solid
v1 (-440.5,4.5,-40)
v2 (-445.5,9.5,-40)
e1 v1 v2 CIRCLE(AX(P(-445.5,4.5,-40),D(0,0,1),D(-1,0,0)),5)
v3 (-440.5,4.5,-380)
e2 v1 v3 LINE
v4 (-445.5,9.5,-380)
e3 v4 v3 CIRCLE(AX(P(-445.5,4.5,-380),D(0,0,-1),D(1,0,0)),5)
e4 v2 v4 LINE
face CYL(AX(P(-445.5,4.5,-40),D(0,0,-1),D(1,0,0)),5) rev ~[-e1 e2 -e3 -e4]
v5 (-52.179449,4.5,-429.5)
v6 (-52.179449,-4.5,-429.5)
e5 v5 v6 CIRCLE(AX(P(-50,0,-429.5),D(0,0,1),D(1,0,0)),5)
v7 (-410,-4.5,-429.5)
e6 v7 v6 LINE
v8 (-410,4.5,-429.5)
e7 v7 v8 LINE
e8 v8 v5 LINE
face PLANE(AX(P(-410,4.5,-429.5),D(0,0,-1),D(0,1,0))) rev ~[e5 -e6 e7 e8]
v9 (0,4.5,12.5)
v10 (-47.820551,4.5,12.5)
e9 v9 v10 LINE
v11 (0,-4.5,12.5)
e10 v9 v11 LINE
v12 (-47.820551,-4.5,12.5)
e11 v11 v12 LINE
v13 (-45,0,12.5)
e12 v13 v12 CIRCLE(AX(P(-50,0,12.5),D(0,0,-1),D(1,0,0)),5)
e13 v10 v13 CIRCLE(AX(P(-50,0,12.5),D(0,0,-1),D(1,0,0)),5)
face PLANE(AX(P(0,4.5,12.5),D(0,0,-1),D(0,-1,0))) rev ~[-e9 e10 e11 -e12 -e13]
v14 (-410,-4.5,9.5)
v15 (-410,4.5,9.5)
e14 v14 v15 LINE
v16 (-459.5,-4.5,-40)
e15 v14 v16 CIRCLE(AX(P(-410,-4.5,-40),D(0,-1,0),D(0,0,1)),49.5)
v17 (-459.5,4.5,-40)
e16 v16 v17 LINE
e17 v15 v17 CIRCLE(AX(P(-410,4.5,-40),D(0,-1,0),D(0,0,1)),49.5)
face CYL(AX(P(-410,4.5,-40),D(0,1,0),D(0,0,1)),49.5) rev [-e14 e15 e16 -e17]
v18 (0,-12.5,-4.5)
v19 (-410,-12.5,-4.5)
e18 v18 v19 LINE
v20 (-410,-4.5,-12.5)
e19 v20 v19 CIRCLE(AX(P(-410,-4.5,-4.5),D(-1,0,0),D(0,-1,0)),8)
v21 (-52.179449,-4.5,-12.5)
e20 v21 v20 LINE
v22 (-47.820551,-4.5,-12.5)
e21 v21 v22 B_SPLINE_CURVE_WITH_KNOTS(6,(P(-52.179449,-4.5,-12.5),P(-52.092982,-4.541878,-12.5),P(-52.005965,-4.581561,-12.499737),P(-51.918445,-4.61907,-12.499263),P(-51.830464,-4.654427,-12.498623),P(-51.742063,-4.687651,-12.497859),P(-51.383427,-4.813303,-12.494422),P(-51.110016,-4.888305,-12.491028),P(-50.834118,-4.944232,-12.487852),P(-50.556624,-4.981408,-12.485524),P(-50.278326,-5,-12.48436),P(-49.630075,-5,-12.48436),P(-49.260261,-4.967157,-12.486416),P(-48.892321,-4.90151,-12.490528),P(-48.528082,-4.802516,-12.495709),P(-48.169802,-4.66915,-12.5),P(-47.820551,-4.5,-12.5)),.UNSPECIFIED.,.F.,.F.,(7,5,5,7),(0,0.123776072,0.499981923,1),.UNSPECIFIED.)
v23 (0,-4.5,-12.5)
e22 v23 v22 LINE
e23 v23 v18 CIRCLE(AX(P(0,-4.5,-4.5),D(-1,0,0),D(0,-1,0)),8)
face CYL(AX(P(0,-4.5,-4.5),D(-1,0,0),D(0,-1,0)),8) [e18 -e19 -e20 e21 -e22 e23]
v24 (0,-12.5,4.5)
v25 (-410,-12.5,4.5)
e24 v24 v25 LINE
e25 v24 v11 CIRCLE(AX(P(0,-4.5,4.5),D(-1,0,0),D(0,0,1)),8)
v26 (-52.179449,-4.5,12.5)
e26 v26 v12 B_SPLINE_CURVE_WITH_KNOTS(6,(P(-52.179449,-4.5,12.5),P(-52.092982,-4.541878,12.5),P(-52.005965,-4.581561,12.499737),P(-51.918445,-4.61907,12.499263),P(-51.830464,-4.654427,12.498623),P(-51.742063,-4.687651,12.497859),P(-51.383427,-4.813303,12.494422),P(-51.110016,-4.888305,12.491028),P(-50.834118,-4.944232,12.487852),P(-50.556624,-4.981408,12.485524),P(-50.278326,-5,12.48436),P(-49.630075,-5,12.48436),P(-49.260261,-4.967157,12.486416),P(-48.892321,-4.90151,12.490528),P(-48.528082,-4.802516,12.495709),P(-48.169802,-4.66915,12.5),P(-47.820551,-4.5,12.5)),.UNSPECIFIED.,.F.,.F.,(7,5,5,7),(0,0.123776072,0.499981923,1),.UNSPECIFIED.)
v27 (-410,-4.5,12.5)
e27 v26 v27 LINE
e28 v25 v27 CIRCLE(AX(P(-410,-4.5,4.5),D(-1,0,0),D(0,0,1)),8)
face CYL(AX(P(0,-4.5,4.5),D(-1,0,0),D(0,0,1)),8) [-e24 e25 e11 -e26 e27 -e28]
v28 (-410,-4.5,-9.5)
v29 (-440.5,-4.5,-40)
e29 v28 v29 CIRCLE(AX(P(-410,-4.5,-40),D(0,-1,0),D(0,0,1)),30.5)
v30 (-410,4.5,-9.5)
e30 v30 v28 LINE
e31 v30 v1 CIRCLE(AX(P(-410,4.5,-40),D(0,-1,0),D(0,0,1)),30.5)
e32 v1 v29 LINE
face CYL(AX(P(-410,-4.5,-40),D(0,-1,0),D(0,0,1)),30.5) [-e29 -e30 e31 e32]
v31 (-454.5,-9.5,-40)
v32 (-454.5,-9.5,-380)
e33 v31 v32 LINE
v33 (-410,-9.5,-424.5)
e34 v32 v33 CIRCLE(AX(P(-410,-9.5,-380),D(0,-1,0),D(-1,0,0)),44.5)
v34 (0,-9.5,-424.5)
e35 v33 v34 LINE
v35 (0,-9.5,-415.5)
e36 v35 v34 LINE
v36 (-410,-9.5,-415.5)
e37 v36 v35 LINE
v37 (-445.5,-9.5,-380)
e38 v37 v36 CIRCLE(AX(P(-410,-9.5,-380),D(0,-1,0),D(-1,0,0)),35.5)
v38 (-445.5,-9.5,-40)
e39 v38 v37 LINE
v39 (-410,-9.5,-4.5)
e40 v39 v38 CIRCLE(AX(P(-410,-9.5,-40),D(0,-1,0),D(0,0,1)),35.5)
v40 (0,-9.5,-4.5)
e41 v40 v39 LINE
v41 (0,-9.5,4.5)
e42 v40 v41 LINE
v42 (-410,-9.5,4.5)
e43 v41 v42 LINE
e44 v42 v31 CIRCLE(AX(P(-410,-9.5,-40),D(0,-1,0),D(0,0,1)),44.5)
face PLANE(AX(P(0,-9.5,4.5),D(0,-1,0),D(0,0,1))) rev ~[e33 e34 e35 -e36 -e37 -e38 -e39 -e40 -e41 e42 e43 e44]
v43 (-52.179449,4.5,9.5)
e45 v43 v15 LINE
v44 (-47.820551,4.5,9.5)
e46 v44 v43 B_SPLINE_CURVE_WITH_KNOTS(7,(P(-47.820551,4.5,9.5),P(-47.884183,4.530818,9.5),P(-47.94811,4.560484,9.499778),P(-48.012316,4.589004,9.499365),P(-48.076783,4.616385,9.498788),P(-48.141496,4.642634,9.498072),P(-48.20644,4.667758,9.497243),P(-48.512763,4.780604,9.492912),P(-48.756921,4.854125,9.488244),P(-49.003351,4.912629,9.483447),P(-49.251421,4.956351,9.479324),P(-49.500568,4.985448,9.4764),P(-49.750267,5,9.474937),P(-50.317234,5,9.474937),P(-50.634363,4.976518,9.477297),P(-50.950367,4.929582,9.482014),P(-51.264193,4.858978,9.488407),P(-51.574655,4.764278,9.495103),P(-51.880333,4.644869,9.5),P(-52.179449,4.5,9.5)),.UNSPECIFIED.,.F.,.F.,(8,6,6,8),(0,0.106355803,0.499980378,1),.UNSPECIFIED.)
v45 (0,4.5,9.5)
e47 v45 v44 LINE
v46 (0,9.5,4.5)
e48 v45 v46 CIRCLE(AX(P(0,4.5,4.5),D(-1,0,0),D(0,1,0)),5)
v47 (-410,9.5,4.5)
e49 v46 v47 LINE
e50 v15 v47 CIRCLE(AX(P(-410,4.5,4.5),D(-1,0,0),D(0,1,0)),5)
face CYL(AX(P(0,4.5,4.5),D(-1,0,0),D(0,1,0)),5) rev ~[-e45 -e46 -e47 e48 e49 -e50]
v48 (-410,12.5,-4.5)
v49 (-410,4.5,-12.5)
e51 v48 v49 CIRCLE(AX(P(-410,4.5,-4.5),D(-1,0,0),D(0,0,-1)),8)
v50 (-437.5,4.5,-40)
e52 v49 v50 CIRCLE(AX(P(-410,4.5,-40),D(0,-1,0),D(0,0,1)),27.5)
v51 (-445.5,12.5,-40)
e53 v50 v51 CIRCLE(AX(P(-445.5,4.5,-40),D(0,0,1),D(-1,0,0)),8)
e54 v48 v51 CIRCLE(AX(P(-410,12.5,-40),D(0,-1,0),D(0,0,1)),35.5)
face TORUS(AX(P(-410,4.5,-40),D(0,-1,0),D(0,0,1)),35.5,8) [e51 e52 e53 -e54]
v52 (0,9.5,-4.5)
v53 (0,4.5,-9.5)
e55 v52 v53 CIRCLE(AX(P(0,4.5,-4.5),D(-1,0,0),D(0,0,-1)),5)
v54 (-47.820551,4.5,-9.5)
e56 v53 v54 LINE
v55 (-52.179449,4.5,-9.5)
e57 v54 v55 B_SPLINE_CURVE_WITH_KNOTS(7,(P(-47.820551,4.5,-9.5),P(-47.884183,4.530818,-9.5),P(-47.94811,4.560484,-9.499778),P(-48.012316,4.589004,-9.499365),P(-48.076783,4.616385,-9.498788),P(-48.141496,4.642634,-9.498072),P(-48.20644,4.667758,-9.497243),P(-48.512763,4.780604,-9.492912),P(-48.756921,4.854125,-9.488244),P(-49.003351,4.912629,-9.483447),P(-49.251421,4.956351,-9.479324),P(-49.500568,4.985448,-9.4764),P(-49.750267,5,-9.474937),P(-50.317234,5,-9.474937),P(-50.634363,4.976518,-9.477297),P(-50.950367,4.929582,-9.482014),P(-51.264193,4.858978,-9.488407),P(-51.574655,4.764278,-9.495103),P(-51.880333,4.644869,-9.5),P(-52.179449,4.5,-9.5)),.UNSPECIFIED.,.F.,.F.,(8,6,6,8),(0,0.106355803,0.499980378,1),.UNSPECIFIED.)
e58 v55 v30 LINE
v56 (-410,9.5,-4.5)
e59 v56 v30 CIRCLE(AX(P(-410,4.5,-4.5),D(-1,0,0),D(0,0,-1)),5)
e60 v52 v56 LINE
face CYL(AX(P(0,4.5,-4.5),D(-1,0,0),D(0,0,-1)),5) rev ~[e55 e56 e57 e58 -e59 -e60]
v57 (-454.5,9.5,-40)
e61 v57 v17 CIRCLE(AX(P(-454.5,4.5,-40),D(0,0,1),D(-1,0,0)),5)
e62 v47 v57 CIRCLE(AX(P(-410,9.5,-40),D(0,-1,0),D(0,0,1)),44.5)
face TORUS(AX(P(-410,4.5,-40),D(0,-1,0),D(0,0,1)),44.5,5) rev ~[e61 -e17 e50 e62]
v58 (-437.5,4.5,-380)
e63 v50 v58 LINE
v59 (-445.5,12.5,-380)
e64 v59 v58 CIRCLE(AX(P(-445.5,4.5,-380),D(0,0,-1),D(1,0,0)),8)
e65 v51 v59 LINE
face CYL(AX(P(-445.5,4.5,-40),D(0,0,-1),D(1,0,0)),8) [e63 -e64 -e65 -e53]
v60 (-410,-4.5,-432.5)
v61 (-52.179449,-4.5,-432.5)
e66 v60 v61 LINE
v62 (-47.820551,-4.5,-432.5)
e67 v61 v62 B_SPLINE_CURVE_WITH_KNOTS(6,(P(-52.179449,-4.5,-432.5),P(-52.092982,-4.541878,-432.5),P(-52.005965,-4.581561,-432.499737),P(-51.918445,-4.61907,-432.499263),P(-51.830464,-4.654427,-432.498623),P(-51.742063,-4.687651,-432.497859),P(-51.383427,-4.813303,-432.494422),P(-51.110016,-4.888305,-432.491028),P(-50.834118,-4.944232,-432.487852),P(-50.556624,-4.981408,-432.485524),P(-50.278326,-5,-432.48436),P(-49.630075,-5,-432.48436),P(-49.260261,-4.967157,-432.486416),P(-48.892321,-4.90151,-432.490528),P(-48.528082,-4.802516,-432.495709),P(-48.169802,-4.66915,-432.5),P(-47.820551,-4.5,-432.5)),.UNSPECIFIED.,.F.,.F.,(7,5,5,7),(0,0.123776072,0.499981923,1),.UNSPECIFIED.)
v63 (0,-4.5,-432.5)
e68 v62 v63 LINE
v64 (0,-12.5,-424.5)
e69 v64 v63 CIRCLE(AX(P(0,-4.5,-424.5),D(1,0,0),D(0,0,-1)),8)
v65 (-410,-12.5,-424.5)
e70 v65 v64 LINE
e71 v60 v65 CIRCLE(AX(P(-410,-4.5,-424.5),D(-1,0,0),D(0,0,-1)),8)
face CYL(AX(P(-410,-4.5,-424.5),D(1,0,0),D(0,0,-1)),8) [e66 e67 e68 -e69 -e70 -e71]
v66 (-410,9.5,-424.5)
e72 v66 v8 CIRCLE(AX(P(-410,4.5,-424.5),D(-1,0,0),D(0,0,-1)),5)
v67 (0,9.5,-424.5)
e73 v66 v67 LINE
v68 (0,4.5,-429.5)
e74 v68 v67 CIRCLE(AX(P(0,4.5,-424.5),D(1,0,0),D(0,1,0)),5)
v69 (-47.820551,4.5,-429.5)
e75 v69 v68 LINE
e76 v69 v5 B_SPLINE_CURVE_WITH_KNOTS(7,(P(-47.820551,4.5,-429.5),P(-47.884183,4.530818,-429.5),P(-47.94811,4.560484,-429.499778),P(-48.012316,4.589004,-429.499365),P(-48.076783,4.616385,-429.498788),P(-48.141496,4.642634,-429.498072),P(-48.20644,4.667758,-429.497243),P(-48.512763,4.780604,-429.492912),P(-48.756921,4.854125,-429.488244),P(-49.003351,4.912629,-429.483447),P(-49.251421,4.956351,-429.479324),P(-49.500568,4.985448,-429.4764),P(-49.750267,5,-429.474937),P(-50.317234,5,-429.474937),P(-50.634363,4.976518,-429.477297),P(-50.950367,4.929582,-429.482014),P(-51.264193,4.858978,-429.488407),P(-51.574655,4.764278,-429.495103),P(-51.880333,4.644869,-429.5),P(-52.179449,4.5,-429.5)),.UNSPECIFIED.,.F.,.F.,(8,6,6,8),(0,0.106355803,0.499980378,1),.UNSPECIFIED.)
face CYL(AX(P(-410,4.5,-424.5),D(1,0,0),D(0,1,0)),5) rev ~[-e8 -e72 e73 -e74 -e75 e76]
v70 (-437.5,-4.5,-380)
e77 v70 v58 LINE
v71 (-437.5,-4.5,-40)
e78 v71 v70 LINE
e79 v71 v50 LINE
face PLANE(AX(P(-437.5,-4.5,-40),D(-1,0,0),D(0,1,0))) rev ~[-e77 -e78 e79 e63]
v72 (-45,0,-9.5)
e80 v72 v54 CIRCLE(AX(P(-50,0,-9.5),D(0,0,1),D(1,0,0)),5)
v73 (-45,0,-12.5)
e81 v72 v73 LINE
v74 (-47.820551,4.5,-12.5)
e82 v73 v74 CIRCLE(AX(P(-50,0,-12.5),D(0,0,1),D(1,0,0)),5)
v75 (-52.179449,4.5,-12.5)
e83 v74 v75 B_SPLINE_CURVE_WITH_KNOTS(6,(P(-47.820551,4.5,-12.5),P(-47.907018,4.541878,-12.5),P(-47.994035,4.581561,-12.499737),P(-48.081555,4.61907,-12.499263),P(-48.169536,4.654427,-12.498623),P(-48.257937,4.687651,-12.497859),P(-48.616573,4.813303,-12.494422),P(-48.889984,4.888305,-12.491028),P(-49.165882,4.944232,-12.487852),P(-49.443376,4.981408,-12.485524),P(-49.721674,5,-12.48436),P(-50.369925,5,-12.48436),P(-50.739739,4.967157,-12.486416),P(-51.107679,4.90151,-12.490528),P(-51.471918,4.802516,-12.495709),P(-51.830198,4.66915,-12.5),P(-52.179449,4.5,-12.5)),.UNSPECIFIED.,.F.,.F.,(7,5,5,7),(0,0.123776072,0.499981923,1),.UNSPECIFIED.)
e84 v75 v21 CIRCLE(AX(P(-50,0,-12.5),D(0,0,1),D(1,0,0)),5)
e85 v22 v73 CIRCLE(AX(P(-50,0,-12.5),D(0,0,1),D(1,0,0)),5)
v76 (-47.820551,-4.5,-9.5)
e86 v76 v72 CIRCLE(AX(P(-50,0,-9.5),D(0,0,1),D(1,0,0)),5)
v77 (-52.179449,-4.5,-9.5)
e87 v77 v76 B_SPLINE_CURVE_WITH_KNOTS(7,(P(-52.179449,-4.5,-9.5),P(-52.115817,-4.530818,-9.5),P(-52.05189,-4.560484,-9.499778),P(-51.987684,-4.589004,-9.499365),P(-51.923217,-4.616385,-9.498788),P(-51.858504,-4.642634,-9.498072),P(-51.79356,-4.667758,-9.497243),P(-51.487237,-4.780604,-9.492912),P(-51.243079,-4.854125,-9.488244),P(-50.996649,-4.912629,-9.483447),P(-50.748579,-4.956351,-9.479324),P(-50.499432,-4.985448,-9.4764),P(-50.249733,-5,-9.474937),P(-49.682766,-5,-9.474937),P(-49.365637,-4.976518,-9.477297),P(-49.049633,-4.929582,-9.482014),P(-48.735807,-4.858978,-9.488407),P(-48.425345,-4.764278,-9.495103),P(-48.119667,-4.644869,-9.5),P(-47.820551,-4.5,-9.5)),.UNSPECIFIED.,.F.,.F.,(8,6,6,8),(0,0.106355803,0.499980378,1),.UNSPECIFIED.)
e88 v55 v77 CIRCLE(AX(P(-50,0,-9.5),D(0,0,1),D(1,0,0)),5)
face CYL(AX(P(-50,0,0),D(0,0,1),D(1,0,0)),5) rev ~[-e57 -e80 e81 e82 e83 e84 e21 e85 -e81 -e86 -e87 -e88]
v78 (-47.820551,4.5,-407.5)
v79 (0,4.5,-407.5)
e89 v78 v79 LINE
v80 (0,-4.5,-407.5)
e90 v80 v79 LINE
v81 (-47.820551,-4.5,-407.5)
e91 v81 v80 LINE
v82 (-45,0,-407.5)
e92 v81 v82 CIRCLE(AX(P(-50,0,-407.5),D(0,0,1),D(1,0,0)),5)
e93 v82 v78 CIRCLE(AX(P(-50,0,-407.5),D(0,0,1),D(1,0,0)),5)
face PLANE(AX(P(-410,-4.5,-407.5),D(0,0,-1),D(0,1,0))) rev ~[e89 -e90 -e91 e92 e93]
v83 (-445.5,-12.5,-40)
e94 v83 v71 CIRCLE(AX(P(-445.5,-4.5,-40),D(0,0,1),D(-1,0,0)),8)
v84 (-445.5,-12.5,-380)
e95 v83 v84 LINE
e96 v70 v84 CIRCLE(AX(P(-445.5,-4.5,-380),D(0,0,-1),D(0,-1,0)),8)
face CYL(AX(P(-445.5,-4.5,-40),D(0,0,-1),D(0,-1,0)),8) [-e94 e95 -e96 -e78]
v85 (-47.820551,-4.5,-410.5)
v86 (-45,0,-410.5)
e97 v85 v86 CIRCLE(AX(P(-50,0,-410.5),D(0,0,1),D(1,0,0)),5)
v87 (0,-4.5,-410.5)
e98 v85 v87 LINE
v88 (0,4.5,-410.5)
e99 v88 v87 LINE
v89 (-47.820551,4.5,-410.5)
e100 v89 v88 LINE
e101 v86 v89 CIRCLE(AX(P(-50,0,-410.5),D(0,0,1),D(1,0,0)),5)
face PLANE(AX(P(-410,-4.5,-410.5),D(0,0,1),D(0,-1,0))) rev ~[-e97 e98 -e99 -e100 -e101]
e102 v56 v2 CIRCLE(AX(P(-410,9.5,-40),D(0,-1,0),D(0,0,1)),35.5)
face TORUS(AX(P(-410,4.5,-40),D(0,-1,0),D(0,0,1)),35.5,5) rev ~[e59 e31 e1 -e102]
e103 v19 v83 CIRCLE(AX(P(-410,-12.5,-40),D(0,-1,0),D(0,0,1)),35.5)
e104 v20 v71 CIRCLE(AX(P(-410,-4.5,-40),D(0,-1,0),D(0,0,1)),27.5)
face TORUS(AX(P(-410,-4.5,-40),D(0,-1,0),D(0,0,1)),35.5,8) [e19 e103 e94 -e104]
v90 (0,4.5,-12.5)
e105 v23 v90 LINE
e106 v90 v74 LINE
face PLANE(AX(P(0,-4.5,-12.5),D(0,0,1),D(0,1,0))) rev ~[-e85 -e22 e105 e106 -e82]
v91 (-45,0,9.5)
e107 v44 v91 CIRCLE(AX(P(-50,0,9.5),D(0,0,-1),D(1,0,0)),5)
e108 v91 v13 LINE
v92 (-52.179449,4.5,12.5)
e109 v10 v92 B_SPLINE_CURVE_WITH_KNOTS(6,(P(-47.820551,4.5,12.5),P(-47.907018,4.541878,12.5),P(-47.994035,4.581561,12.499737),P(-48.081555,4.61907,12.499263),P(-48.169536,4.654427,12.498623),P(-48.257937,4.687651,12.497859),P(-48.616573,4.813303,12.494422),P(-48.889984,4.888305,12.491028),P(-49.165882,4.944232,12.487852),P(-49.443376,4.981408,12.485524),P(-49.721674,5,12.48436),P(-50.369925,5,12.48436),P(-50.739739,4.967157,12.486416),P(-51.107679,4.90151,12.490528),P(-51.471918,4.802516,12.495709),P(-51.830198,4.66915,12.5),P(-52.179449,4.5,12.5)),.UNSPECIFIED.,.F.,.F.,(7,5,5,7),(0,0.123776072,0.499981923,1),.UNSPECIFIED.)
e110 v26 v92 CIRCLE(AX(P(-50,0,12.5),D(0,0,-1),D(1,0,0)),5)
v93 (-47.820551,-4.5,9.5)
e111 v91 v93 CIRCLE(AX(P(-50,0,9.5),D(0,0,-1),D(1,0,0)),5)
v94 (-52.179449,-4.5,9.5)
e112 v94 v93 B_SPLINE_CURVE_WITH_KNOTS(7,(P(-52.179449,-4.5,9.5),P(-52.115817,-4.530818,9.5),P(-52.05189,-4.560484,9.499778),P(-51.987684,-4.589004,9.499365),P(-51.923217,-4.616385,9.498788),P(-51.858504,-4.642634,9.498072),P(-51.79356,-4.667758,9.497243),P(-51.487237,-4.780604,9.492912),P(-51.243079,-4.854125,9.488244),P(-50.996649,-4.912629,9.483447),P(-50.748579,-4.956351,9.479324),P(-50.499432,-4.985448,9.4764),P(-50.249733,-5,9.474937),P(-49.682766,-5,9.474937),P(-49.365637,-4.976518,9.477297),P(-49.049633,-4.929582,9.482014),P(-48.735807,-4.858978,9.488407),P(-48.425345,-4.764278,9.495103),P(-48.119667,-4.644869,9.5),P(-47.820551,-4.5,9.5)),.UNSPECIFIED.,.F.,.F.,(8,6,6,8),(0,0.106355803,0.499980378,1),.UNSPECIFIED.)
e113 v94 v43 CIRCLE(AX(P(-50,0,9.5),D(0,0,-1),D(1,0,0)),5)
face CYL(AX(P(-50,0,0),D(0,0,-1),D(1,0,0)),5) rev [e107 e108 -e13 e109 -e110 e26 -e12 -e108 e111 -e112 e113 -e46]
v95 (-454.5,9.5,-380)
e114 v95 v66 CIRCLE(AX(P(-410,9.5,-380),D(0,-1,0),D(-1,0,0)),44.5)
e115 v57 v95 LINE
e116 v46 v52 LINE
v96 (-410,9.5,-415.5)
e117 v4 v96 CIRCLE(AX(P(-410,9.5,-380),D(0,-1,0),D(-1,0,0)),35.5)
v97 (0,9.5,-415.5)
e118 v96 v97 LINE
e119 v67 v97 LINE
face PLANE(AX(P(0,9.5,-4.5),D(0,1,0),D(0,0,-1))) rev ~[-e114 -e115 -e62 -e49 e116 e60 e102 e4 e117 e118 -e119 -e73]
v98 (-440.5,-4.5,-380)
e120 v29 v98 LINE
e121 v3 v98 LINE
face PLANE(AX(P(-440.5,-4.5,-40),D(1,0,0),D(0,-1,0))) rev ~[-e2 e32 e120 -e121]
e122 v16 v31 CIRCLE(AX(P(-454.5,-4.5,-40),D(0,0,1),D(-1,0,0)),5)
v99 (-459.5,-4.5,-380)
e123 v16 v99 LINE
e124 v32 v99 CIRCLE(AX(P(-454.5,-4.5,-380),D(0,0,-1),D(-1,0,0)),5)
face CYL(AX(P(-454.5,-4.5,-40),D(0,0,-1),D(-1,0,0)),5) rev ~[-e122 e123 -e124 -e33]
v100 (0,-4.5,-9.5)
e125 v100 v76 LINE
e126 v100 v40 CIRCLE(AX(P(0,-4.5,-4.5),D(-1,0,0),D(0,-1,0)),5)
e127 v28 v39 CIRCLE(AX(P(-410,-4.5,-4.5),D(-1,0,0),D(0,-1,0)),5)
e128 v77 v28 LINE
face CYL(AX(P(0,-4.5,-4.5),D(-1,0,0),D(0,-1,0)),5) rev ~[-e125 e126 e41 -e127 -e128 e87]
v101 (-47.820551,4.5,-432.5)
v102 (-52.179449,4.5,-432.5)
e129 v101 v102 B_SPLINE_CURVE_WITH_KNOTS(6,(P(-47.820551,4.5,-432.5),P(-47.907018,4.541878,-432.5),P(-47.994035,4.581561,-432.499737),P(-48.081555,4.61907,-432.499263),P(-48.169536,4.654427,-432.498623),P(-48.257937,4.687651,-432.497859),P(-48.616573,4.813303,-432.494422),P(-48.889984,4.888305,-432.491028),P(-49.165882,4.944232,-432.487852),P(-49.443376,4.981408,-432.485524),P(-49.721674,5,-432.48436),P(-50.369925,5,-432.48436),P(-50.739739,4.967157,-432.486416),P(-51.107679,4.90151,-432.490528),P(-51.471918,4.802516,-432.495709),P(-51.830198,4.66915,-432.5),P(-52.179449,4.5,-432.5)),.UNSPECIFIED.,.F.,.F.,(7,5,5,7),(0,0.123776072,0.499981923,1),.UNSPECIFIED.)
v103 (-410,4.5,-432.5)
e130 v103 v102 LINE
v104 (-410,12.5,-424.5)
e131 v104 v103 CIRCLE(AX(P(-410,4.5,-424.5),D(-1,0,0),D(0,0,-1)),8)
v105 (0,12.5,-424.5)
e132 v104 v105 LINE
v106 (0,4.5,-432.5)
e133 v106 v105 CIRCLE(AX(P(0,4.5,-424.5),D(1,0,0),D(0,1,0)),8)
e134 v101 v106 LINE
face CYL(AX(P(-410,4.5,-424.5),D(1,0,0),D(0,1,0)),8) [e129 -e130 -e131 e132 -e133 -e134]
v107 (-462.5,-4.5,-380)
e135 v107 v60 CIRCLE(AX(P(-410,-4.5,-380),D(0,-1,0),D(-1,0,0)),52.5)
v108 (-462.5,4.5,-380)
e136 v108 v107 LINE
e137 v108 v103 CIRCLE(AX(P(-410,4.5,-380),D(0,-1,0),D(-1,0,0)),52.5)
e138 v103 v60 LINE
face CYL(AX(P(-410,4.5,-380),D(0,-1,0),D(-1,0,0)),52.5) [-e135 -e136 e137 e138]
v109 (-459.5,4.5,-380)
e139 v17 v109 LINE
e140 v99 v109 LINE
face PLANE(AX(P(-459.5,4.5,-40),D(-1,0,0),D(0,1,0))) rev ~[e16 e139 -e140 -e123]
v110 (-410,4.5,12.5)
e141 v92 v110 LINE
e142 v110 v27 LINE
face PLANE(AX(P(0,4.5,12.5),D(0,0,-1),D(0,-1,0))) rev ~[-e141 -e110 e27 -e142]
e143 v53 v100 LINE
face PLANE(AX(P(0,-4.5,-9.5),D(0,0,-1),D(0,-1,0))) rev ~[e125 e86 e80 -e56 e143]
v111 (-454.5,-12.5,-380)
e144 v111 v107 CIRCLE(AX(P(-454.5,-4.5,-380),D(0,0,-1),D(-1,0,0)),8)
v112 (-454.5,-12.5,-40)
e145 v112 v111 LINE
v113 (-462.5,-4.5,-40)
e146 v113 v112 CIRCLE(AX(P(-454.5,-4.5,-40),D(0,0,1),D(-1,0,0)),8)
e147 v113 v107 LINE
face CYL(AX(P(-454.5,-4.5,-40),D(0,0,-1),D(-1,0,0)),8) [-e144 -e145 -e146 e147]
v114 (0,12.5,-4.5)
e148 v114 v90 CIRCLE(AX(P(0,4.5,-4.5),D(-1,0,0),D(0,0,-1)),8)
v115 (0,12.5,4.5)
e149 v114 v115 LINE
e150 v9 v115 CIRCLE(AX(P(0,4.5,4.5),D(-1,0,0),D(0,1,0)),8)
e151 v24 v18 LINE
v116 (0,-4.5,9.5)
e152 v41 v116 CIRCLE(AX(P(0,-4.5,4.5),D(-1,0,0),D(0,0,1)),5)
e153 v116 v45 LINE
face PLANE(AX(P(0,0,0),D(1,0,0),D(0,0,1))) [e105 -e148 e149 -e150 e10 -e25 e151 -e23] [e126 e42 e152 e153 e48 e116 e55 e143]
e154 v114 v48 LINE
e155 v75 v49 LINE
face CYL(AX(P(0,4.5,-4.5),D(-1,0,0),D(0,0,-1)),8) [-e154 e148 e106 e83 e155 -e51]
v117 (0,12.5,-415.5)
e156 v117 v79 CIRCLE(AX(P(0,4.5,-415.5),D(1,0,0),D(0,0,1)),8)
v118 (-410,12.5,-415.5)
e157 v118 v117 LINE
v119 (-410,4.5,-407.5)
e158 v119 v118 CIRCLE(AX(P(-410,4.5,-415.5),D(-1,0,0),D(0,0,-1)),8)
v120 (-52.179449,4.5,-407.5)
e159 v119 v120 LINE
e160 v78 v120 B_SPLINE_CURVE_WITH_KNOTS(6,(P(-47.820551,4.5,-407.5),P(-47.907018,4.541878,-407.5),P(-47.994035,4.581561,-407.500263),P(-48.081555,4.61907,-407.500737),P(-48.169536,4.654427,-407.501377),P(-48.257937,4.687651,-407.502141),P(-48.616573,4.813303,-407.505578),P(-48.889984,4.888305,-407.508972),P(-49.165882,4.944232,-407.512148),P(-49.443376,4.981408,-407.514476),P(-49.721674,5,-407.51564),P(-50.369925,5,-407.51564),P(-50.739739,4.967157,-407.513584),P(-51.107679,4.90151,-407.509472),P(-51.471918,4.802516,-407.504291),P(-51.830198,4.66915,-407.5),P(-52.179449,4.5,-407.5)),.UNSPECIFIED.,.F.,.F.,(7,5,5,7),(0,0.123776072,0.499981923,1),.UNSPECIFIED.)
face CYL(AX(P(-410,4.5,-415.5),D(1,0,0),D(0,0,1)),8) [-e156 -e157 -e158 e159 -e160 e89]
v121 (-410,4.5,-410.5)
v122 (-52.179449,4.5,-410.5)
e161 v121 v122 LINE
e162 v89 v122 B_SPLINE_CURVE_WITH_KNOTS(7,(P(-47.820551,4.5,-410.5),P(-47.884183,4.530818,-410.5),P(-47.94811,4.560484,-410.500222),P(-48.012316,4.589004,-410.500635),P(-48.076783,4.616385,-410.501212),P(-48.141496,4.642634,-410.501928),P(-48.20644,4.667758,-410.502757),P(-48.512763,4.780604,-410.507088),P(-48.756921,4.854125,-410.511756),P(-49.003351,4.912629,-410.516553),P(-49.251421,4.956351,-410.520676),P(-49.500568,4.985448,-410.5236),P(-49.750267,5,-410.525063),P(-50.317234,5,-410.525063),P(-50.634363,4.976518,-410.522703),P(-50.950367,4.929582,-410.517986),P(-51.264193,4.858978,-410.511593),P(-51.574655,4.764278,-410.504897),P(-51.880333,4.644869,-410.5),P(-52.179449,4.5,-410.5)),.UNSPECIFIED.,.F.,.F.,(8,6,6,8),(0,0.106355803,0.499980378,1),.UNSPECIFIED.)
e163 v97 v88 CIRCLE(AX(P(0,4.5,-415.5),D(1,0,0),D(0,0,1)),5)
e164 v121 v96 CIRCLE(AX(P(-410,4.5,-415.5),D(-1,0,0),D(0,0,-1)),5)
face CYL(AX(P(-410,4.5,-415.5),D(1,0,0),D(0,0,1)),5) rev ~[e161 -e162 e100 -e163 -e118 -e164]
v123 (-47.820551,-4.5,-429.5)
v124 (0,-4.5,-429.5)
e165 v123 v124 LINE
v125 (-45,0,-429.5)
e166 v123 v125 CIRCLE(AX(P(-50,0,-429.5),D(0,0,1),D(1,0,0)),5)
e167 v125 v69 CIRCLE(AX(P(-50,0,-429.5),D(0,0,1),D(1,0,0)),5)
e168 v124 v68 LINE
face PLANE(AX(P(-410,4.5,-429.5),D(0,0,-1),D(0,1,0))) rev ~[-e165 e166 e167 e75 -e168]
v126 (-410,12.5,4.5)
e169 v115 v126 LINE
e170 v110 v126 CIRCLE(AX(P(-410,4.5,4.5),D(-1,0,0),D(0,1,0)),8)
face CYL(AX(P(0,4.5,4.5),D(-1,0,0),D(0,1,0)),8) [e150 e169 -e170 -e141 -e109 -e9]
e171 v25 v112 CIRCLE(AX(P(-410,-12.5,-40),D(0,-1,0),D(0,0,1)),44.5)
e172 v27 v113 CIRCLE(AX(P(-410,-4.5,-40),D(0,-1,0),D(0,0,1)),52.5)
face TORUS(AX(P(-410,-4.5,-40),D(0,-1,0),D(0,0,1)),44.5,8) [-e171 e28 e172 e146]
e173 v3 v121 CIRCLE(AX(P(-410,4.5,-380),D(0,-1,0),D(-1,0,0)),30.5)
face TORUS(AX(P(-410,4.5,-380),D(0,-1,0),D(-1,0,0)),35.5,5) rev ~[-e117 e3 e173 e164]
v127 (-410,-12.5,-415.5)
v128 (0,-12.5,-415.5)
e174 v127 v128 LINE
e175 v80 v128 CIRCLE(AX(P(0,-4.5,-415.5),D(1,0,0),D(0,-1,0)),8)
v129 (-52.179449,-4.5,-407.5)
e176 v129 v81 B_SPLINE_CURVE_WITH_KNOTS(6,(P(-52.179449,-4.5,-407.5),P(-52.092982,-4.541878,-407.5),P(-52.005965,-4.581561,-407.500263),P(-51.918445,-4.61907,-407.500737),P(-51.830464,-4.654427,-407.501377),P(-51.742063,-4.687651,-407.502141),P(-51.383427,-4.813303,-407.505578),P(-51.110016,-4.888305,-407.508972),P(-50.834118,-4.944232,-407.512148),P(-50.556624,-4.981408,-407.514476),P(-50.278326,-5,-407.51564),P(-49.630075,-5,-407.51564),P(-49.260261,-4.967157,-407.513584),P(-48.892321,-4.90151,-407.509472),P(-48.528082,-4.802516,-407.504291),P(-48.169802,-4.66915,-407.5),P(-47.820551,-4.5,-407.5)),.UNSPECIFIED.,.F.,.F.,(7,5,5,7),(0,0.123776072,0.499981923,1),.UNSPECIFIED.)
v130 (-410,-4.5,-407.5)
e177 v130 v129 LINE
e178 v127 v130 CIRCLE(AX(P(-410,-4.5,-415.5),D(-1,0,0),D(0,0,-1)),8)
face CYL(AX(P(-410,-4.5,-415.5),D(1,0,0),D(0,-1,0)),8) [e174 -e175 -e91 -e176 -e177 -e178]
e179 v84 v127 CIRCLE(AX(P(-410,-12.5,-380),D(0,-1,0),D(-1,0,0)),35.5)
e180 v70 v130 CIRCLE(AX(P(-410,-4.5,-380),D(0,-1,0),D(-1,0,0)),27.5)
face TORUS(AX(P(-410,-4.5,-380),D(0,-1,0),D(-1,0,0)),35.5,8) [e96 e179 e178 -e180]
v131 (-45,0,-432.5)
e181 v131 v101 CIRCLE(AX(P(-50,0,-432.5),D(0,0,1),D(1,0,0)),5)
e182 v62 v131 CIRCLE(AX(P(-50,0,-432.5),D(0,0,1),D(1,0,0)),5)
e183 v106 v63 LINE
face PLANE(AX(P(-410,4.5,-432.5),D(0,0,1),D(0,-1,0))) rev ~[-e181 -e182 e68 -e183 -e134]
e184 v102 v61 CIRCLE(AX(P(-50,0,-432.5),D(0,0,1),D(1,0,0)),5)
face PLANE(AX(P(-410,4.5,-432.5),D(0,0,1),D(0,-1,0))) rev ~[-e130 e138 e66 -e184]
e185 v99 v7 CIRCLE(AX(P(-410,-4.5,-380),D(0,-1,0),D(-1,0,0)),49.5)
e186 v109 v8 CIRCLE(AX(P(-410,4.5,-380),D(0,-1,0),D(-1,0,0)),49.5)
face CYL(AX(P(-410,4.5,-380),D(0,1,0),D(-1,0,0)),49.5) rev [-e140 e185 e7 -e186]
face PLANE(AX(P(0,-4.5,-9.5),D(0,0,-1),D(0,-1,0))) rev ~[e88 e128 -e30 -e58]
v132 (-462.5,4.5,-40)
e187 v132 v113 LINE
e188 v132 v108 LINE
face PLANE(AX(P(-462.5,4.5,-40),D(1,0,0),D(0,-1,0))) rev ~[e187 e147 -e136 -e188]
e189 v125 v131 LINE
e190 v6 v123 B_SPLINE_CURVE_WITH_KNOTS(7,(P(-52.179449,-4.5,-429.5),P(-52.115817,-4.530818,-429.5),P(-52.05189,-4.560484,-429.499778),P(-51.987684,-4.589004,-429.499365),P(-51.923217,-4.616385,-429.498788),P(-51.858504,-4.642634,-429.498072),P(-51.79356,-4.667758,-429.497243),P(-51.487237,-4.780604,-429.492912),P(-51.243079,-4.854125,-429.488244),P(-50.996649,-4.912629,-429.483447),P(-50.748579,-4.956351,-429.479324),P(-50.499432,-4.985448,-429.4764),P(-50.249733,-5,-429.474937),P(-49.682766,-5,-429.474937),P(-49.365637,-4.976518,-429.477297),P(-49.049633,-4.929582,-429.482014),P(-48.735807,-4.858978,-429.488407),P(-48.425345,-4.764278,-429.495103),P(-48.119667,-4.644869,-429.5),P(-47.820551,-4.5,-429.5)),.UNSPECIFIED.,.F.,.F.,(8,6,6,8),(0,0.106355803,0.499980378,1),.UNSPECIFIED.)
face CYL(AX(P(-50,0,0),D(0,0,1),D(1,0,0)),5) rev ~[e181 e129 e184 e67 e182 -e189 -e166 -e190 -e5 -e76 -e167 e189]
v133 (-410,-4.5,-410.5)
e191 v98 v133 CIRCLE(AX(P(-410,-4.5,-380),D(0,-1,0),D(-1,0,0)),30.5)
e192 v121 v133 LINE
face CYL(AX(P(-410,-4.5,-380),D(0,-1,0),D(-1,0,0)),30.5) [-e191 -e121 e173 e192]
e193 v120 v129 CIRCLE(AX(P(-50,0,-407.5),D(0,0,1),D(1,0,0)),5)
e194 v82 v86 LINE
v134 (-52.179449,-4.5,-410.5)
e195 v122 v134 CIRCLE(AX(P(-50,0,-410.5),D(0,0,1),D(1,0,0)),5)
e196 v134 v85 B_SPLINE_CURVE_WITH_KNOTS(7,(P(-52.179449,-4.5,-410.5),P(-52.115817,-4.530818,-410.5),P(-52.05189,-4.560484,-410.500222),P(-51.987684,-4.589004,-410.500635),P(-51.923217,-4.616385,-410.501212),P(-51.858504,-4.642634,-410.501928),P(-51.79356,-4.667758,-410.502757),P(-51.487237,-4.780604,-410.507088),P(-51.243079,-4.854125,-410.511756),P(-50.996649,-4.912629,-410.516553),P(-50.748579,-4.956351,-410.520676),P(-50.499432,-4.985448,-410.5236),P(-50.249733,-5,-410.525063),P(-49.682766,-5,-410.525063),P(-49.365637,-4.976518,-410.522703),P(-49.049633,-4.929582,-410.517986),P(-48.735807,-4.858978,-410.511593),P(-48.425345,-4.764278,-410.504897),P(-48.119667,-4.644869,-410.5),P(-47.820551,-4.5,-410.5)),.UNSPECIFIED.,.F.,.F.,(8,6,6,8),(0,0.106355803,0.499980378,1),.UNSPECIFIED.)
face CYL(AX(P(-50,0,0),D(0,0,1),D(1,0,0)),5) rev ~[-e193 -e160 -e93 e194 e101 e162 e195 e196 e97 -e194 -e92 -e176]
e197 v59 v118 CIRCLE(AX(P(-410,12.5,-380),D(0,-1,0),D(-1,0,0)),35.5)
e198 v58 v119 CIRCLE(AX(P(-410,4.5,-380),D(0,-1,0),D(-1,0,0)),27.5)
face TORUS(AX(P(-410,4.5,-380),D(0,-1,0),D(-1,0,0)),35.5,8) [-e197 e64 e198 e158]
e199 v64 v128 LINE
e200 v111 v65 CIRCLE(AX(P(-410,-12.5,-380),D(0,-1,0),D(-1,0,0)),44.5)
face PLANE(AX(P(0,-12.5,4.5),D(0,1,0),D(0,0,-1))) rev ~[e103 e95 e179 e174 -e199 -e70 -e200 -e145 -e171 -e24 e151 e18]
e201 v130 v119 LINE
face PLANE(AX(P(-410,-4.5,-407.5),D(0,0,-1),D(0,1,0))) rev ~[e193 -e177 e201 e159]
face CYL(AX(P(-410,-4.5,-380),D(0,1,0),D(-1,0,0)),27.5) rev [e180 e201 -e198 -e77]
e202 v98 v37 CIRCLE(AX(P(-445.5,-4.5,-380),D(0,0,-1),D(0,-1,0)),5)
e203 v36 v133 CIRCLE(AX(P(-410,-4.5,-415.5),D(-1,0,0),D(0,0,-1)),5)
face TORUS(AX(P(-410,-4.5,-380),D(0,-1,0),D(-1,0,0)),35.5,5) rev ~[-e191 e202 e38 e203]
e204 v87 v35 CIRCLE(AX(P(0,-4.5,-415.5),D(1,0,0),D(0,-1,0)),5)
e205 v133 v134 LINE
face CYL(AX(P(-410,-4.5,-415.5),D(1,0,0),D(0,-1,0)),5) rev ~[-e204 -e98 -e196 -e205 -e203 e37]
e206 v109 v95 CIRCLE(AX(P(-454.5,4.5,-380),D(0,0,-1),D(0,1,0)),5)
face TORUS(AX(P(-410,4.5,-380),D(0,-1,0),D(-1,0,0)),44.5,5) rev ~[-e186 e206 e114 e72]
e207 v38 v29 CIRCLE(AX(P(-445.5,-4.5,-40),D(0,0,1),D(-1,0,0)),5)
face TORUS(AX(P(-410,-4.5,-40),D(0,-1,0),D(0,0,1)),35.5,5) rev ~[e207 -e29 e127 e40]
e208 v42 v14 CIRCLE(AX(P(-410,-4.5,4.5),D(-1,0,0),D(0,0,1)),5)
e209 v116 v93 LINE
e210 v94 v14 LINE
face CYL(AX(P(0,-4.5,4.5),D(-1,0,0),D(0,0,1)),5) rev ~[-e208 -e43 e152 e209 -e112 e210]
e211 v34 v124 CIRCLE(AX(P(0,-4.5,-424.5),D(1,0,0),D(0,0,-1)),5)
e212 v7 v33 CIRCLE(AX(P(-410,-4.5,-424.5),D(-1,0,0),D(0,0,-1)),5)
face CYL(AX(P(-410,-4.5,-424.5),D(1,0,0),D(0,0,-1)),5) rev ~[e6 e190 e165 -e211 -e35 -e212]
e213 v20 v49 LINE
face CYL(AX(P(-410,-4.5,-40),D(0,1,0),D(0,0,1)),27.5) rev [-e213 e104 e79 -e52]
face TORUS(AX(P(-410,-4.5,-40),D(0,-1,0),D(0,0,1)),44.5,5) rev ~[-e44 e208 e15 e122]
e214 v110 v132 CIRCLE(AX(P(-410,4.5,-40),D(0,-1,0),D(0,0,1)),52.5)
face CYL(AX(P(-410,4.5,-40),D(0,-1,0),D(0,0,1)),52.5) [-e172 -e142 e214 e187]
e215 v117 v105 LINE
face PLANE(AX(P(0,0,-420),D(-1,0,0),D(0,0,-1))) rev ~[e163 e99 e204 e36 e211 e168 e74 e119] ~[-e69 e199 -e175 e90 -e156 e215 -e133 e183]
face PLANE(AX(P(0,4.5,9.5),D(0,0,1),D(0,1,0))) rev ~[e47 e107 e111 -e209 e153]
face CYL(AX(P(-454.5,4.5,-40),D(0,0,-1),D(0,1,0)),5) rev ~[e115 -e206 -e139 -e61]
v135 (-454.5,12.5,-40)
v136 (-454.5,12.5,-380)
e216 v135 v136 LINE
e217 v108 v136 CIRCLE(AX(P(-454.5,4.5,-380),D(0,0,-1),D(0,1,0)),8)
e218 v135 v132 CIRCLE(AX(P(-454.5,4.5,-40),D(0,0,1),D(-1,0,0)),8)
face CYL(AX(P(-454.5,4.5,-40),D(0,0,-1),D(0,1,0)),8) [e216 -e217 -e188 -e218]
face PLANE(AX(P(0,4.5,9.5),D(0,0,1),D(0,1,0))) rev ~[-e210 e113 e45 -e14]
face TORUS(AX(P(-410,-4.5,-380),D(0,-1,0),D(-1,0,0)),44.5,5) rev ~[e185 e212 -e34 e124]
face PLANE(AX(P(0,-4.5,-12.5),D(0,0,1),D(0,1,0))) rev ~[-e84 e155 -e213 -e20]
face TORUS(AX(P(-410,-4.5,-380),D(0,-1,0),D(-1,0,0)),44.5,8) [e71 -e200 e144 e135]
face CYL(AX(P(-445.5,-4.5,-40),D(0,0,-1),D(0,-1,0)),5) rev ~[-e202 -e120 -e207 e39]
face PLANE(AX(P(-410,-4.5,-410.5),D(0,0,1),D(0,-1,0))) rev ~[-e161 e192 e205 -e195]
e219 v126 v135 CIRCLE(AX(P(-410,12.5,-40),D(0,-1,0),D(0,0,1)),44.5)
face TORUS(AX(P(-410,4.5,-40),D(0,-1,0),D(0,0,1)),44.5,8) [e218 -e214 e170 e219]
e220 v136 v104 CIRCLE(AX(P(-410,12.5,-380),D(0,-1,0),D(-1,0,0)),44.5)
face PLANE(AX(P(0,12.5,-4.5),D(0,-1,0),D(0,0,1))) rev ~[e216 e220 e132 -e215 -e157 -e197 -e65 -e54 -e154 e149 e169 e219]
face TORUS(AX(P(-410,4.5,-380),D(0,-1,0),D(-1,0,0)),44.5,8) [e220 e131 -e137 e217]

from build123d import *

# Parameters (mm, degrees)
SKETCH3_R               = 5
CUT_EXTRUDE1_DEPTH      = 13.5000001
CUT_EXTRUDE1_DEPTH_BACK = 433.5000001


with BuildPart() as part:
    # Sweep-Thin1: sweep along a path in Sketch1
    with BuildLine(Plane(origin=(0, 0, 0), x_dir=(1, 0, 0), z_dir=(0, 1, 0))) as sweep_thin1_path:
        Line((0, 0), (-410, 0))
        ThreePointArc((-410, 0), (-438.284271247, 11.715728753), (-450, 40))
        Line((-450, 40), (-450, 380))
        ThreePointArc((-450, 380), (-438.284271247, 408.284271247), (-410, 420))
        Line((-410, 420), (0, 420))
    # Sketch2 → Sweep-Thin1 (sweep)
    with BuildSketch(Plane(origin=(0, 0, 0), x_dir=(0, 0, -1), z_dir=(1, 0, 0))):
        with BuildLine():
            Line((4.5, 12.5), (-4.5, 12.5))
            ThreePointArc((-4.5, 12.5), (-10.156854249, 10.156854249), (-12.5, 4.5))
            Line((-12.5, 4.5), (-12.5, -4.5))
            ThreePointArc((-12.5, -4.5), (-10.156854249, -10.156854249), (-4.5, -12.5))
            Line((-4.5, -12.5), (4.5, -12.5))
            ThreePointArc((4.5, -12.5), (10.156854249, -10.156854249), (12.5, -4.5))
            Line((12.5, -4.5), (12.5, 4.5))
            ThreePointArc((12.5, 4.5), (10.156854249, 10.156854249), (4.5, 12.5))
        make_face()
        with BuildLine():
            Line((4.5, 9.5), (-4.5, 9.5))
            ThreePointArc((-4.5, 9.5), (-8.035533906, 8.035533906), (-9.5, 4.5))
            Line((-9.5, 4.5), (-9.5, -4.5))
            ThreePointArc((-9.5, -4.5), (-8.035533906, -8.035533906), (-4.5, -9.5))
            Line((-4.5, -9.5), (4.5, -9.5))
            ThreePointArc((4.5, -9.5), (8.035533906, -8.035533906), (9.5, -4.5))
            Line((9.5, -4.5), (9.5, 4.5))
            ThreePointArc((9.5, 4.5), (8.035533906, 8.035533906), (4.5, 9.5))
        make_face(mode=Mode.SUBTRACT)
    sweep(path=sweep_thin1_path.line)

    # Sketch3 → Cut-Extrude1 (cut, two sides)
    with BuildSketch(Plane.XY) as cut_extrude1_sk:
        with Locations((-50, 0)):
            Circle(SKETCH3_R)
    extrude(amount=CUT_EXTRUDE1_DEPTH, mode=Mode.SUBTRACT)
    extrude(cut_extrude1_sk.sketch, amount=-CUT_EXTRUDE1_DEPTH_BACK, mode=Mode.SUBTRACT)


solid = part.part
